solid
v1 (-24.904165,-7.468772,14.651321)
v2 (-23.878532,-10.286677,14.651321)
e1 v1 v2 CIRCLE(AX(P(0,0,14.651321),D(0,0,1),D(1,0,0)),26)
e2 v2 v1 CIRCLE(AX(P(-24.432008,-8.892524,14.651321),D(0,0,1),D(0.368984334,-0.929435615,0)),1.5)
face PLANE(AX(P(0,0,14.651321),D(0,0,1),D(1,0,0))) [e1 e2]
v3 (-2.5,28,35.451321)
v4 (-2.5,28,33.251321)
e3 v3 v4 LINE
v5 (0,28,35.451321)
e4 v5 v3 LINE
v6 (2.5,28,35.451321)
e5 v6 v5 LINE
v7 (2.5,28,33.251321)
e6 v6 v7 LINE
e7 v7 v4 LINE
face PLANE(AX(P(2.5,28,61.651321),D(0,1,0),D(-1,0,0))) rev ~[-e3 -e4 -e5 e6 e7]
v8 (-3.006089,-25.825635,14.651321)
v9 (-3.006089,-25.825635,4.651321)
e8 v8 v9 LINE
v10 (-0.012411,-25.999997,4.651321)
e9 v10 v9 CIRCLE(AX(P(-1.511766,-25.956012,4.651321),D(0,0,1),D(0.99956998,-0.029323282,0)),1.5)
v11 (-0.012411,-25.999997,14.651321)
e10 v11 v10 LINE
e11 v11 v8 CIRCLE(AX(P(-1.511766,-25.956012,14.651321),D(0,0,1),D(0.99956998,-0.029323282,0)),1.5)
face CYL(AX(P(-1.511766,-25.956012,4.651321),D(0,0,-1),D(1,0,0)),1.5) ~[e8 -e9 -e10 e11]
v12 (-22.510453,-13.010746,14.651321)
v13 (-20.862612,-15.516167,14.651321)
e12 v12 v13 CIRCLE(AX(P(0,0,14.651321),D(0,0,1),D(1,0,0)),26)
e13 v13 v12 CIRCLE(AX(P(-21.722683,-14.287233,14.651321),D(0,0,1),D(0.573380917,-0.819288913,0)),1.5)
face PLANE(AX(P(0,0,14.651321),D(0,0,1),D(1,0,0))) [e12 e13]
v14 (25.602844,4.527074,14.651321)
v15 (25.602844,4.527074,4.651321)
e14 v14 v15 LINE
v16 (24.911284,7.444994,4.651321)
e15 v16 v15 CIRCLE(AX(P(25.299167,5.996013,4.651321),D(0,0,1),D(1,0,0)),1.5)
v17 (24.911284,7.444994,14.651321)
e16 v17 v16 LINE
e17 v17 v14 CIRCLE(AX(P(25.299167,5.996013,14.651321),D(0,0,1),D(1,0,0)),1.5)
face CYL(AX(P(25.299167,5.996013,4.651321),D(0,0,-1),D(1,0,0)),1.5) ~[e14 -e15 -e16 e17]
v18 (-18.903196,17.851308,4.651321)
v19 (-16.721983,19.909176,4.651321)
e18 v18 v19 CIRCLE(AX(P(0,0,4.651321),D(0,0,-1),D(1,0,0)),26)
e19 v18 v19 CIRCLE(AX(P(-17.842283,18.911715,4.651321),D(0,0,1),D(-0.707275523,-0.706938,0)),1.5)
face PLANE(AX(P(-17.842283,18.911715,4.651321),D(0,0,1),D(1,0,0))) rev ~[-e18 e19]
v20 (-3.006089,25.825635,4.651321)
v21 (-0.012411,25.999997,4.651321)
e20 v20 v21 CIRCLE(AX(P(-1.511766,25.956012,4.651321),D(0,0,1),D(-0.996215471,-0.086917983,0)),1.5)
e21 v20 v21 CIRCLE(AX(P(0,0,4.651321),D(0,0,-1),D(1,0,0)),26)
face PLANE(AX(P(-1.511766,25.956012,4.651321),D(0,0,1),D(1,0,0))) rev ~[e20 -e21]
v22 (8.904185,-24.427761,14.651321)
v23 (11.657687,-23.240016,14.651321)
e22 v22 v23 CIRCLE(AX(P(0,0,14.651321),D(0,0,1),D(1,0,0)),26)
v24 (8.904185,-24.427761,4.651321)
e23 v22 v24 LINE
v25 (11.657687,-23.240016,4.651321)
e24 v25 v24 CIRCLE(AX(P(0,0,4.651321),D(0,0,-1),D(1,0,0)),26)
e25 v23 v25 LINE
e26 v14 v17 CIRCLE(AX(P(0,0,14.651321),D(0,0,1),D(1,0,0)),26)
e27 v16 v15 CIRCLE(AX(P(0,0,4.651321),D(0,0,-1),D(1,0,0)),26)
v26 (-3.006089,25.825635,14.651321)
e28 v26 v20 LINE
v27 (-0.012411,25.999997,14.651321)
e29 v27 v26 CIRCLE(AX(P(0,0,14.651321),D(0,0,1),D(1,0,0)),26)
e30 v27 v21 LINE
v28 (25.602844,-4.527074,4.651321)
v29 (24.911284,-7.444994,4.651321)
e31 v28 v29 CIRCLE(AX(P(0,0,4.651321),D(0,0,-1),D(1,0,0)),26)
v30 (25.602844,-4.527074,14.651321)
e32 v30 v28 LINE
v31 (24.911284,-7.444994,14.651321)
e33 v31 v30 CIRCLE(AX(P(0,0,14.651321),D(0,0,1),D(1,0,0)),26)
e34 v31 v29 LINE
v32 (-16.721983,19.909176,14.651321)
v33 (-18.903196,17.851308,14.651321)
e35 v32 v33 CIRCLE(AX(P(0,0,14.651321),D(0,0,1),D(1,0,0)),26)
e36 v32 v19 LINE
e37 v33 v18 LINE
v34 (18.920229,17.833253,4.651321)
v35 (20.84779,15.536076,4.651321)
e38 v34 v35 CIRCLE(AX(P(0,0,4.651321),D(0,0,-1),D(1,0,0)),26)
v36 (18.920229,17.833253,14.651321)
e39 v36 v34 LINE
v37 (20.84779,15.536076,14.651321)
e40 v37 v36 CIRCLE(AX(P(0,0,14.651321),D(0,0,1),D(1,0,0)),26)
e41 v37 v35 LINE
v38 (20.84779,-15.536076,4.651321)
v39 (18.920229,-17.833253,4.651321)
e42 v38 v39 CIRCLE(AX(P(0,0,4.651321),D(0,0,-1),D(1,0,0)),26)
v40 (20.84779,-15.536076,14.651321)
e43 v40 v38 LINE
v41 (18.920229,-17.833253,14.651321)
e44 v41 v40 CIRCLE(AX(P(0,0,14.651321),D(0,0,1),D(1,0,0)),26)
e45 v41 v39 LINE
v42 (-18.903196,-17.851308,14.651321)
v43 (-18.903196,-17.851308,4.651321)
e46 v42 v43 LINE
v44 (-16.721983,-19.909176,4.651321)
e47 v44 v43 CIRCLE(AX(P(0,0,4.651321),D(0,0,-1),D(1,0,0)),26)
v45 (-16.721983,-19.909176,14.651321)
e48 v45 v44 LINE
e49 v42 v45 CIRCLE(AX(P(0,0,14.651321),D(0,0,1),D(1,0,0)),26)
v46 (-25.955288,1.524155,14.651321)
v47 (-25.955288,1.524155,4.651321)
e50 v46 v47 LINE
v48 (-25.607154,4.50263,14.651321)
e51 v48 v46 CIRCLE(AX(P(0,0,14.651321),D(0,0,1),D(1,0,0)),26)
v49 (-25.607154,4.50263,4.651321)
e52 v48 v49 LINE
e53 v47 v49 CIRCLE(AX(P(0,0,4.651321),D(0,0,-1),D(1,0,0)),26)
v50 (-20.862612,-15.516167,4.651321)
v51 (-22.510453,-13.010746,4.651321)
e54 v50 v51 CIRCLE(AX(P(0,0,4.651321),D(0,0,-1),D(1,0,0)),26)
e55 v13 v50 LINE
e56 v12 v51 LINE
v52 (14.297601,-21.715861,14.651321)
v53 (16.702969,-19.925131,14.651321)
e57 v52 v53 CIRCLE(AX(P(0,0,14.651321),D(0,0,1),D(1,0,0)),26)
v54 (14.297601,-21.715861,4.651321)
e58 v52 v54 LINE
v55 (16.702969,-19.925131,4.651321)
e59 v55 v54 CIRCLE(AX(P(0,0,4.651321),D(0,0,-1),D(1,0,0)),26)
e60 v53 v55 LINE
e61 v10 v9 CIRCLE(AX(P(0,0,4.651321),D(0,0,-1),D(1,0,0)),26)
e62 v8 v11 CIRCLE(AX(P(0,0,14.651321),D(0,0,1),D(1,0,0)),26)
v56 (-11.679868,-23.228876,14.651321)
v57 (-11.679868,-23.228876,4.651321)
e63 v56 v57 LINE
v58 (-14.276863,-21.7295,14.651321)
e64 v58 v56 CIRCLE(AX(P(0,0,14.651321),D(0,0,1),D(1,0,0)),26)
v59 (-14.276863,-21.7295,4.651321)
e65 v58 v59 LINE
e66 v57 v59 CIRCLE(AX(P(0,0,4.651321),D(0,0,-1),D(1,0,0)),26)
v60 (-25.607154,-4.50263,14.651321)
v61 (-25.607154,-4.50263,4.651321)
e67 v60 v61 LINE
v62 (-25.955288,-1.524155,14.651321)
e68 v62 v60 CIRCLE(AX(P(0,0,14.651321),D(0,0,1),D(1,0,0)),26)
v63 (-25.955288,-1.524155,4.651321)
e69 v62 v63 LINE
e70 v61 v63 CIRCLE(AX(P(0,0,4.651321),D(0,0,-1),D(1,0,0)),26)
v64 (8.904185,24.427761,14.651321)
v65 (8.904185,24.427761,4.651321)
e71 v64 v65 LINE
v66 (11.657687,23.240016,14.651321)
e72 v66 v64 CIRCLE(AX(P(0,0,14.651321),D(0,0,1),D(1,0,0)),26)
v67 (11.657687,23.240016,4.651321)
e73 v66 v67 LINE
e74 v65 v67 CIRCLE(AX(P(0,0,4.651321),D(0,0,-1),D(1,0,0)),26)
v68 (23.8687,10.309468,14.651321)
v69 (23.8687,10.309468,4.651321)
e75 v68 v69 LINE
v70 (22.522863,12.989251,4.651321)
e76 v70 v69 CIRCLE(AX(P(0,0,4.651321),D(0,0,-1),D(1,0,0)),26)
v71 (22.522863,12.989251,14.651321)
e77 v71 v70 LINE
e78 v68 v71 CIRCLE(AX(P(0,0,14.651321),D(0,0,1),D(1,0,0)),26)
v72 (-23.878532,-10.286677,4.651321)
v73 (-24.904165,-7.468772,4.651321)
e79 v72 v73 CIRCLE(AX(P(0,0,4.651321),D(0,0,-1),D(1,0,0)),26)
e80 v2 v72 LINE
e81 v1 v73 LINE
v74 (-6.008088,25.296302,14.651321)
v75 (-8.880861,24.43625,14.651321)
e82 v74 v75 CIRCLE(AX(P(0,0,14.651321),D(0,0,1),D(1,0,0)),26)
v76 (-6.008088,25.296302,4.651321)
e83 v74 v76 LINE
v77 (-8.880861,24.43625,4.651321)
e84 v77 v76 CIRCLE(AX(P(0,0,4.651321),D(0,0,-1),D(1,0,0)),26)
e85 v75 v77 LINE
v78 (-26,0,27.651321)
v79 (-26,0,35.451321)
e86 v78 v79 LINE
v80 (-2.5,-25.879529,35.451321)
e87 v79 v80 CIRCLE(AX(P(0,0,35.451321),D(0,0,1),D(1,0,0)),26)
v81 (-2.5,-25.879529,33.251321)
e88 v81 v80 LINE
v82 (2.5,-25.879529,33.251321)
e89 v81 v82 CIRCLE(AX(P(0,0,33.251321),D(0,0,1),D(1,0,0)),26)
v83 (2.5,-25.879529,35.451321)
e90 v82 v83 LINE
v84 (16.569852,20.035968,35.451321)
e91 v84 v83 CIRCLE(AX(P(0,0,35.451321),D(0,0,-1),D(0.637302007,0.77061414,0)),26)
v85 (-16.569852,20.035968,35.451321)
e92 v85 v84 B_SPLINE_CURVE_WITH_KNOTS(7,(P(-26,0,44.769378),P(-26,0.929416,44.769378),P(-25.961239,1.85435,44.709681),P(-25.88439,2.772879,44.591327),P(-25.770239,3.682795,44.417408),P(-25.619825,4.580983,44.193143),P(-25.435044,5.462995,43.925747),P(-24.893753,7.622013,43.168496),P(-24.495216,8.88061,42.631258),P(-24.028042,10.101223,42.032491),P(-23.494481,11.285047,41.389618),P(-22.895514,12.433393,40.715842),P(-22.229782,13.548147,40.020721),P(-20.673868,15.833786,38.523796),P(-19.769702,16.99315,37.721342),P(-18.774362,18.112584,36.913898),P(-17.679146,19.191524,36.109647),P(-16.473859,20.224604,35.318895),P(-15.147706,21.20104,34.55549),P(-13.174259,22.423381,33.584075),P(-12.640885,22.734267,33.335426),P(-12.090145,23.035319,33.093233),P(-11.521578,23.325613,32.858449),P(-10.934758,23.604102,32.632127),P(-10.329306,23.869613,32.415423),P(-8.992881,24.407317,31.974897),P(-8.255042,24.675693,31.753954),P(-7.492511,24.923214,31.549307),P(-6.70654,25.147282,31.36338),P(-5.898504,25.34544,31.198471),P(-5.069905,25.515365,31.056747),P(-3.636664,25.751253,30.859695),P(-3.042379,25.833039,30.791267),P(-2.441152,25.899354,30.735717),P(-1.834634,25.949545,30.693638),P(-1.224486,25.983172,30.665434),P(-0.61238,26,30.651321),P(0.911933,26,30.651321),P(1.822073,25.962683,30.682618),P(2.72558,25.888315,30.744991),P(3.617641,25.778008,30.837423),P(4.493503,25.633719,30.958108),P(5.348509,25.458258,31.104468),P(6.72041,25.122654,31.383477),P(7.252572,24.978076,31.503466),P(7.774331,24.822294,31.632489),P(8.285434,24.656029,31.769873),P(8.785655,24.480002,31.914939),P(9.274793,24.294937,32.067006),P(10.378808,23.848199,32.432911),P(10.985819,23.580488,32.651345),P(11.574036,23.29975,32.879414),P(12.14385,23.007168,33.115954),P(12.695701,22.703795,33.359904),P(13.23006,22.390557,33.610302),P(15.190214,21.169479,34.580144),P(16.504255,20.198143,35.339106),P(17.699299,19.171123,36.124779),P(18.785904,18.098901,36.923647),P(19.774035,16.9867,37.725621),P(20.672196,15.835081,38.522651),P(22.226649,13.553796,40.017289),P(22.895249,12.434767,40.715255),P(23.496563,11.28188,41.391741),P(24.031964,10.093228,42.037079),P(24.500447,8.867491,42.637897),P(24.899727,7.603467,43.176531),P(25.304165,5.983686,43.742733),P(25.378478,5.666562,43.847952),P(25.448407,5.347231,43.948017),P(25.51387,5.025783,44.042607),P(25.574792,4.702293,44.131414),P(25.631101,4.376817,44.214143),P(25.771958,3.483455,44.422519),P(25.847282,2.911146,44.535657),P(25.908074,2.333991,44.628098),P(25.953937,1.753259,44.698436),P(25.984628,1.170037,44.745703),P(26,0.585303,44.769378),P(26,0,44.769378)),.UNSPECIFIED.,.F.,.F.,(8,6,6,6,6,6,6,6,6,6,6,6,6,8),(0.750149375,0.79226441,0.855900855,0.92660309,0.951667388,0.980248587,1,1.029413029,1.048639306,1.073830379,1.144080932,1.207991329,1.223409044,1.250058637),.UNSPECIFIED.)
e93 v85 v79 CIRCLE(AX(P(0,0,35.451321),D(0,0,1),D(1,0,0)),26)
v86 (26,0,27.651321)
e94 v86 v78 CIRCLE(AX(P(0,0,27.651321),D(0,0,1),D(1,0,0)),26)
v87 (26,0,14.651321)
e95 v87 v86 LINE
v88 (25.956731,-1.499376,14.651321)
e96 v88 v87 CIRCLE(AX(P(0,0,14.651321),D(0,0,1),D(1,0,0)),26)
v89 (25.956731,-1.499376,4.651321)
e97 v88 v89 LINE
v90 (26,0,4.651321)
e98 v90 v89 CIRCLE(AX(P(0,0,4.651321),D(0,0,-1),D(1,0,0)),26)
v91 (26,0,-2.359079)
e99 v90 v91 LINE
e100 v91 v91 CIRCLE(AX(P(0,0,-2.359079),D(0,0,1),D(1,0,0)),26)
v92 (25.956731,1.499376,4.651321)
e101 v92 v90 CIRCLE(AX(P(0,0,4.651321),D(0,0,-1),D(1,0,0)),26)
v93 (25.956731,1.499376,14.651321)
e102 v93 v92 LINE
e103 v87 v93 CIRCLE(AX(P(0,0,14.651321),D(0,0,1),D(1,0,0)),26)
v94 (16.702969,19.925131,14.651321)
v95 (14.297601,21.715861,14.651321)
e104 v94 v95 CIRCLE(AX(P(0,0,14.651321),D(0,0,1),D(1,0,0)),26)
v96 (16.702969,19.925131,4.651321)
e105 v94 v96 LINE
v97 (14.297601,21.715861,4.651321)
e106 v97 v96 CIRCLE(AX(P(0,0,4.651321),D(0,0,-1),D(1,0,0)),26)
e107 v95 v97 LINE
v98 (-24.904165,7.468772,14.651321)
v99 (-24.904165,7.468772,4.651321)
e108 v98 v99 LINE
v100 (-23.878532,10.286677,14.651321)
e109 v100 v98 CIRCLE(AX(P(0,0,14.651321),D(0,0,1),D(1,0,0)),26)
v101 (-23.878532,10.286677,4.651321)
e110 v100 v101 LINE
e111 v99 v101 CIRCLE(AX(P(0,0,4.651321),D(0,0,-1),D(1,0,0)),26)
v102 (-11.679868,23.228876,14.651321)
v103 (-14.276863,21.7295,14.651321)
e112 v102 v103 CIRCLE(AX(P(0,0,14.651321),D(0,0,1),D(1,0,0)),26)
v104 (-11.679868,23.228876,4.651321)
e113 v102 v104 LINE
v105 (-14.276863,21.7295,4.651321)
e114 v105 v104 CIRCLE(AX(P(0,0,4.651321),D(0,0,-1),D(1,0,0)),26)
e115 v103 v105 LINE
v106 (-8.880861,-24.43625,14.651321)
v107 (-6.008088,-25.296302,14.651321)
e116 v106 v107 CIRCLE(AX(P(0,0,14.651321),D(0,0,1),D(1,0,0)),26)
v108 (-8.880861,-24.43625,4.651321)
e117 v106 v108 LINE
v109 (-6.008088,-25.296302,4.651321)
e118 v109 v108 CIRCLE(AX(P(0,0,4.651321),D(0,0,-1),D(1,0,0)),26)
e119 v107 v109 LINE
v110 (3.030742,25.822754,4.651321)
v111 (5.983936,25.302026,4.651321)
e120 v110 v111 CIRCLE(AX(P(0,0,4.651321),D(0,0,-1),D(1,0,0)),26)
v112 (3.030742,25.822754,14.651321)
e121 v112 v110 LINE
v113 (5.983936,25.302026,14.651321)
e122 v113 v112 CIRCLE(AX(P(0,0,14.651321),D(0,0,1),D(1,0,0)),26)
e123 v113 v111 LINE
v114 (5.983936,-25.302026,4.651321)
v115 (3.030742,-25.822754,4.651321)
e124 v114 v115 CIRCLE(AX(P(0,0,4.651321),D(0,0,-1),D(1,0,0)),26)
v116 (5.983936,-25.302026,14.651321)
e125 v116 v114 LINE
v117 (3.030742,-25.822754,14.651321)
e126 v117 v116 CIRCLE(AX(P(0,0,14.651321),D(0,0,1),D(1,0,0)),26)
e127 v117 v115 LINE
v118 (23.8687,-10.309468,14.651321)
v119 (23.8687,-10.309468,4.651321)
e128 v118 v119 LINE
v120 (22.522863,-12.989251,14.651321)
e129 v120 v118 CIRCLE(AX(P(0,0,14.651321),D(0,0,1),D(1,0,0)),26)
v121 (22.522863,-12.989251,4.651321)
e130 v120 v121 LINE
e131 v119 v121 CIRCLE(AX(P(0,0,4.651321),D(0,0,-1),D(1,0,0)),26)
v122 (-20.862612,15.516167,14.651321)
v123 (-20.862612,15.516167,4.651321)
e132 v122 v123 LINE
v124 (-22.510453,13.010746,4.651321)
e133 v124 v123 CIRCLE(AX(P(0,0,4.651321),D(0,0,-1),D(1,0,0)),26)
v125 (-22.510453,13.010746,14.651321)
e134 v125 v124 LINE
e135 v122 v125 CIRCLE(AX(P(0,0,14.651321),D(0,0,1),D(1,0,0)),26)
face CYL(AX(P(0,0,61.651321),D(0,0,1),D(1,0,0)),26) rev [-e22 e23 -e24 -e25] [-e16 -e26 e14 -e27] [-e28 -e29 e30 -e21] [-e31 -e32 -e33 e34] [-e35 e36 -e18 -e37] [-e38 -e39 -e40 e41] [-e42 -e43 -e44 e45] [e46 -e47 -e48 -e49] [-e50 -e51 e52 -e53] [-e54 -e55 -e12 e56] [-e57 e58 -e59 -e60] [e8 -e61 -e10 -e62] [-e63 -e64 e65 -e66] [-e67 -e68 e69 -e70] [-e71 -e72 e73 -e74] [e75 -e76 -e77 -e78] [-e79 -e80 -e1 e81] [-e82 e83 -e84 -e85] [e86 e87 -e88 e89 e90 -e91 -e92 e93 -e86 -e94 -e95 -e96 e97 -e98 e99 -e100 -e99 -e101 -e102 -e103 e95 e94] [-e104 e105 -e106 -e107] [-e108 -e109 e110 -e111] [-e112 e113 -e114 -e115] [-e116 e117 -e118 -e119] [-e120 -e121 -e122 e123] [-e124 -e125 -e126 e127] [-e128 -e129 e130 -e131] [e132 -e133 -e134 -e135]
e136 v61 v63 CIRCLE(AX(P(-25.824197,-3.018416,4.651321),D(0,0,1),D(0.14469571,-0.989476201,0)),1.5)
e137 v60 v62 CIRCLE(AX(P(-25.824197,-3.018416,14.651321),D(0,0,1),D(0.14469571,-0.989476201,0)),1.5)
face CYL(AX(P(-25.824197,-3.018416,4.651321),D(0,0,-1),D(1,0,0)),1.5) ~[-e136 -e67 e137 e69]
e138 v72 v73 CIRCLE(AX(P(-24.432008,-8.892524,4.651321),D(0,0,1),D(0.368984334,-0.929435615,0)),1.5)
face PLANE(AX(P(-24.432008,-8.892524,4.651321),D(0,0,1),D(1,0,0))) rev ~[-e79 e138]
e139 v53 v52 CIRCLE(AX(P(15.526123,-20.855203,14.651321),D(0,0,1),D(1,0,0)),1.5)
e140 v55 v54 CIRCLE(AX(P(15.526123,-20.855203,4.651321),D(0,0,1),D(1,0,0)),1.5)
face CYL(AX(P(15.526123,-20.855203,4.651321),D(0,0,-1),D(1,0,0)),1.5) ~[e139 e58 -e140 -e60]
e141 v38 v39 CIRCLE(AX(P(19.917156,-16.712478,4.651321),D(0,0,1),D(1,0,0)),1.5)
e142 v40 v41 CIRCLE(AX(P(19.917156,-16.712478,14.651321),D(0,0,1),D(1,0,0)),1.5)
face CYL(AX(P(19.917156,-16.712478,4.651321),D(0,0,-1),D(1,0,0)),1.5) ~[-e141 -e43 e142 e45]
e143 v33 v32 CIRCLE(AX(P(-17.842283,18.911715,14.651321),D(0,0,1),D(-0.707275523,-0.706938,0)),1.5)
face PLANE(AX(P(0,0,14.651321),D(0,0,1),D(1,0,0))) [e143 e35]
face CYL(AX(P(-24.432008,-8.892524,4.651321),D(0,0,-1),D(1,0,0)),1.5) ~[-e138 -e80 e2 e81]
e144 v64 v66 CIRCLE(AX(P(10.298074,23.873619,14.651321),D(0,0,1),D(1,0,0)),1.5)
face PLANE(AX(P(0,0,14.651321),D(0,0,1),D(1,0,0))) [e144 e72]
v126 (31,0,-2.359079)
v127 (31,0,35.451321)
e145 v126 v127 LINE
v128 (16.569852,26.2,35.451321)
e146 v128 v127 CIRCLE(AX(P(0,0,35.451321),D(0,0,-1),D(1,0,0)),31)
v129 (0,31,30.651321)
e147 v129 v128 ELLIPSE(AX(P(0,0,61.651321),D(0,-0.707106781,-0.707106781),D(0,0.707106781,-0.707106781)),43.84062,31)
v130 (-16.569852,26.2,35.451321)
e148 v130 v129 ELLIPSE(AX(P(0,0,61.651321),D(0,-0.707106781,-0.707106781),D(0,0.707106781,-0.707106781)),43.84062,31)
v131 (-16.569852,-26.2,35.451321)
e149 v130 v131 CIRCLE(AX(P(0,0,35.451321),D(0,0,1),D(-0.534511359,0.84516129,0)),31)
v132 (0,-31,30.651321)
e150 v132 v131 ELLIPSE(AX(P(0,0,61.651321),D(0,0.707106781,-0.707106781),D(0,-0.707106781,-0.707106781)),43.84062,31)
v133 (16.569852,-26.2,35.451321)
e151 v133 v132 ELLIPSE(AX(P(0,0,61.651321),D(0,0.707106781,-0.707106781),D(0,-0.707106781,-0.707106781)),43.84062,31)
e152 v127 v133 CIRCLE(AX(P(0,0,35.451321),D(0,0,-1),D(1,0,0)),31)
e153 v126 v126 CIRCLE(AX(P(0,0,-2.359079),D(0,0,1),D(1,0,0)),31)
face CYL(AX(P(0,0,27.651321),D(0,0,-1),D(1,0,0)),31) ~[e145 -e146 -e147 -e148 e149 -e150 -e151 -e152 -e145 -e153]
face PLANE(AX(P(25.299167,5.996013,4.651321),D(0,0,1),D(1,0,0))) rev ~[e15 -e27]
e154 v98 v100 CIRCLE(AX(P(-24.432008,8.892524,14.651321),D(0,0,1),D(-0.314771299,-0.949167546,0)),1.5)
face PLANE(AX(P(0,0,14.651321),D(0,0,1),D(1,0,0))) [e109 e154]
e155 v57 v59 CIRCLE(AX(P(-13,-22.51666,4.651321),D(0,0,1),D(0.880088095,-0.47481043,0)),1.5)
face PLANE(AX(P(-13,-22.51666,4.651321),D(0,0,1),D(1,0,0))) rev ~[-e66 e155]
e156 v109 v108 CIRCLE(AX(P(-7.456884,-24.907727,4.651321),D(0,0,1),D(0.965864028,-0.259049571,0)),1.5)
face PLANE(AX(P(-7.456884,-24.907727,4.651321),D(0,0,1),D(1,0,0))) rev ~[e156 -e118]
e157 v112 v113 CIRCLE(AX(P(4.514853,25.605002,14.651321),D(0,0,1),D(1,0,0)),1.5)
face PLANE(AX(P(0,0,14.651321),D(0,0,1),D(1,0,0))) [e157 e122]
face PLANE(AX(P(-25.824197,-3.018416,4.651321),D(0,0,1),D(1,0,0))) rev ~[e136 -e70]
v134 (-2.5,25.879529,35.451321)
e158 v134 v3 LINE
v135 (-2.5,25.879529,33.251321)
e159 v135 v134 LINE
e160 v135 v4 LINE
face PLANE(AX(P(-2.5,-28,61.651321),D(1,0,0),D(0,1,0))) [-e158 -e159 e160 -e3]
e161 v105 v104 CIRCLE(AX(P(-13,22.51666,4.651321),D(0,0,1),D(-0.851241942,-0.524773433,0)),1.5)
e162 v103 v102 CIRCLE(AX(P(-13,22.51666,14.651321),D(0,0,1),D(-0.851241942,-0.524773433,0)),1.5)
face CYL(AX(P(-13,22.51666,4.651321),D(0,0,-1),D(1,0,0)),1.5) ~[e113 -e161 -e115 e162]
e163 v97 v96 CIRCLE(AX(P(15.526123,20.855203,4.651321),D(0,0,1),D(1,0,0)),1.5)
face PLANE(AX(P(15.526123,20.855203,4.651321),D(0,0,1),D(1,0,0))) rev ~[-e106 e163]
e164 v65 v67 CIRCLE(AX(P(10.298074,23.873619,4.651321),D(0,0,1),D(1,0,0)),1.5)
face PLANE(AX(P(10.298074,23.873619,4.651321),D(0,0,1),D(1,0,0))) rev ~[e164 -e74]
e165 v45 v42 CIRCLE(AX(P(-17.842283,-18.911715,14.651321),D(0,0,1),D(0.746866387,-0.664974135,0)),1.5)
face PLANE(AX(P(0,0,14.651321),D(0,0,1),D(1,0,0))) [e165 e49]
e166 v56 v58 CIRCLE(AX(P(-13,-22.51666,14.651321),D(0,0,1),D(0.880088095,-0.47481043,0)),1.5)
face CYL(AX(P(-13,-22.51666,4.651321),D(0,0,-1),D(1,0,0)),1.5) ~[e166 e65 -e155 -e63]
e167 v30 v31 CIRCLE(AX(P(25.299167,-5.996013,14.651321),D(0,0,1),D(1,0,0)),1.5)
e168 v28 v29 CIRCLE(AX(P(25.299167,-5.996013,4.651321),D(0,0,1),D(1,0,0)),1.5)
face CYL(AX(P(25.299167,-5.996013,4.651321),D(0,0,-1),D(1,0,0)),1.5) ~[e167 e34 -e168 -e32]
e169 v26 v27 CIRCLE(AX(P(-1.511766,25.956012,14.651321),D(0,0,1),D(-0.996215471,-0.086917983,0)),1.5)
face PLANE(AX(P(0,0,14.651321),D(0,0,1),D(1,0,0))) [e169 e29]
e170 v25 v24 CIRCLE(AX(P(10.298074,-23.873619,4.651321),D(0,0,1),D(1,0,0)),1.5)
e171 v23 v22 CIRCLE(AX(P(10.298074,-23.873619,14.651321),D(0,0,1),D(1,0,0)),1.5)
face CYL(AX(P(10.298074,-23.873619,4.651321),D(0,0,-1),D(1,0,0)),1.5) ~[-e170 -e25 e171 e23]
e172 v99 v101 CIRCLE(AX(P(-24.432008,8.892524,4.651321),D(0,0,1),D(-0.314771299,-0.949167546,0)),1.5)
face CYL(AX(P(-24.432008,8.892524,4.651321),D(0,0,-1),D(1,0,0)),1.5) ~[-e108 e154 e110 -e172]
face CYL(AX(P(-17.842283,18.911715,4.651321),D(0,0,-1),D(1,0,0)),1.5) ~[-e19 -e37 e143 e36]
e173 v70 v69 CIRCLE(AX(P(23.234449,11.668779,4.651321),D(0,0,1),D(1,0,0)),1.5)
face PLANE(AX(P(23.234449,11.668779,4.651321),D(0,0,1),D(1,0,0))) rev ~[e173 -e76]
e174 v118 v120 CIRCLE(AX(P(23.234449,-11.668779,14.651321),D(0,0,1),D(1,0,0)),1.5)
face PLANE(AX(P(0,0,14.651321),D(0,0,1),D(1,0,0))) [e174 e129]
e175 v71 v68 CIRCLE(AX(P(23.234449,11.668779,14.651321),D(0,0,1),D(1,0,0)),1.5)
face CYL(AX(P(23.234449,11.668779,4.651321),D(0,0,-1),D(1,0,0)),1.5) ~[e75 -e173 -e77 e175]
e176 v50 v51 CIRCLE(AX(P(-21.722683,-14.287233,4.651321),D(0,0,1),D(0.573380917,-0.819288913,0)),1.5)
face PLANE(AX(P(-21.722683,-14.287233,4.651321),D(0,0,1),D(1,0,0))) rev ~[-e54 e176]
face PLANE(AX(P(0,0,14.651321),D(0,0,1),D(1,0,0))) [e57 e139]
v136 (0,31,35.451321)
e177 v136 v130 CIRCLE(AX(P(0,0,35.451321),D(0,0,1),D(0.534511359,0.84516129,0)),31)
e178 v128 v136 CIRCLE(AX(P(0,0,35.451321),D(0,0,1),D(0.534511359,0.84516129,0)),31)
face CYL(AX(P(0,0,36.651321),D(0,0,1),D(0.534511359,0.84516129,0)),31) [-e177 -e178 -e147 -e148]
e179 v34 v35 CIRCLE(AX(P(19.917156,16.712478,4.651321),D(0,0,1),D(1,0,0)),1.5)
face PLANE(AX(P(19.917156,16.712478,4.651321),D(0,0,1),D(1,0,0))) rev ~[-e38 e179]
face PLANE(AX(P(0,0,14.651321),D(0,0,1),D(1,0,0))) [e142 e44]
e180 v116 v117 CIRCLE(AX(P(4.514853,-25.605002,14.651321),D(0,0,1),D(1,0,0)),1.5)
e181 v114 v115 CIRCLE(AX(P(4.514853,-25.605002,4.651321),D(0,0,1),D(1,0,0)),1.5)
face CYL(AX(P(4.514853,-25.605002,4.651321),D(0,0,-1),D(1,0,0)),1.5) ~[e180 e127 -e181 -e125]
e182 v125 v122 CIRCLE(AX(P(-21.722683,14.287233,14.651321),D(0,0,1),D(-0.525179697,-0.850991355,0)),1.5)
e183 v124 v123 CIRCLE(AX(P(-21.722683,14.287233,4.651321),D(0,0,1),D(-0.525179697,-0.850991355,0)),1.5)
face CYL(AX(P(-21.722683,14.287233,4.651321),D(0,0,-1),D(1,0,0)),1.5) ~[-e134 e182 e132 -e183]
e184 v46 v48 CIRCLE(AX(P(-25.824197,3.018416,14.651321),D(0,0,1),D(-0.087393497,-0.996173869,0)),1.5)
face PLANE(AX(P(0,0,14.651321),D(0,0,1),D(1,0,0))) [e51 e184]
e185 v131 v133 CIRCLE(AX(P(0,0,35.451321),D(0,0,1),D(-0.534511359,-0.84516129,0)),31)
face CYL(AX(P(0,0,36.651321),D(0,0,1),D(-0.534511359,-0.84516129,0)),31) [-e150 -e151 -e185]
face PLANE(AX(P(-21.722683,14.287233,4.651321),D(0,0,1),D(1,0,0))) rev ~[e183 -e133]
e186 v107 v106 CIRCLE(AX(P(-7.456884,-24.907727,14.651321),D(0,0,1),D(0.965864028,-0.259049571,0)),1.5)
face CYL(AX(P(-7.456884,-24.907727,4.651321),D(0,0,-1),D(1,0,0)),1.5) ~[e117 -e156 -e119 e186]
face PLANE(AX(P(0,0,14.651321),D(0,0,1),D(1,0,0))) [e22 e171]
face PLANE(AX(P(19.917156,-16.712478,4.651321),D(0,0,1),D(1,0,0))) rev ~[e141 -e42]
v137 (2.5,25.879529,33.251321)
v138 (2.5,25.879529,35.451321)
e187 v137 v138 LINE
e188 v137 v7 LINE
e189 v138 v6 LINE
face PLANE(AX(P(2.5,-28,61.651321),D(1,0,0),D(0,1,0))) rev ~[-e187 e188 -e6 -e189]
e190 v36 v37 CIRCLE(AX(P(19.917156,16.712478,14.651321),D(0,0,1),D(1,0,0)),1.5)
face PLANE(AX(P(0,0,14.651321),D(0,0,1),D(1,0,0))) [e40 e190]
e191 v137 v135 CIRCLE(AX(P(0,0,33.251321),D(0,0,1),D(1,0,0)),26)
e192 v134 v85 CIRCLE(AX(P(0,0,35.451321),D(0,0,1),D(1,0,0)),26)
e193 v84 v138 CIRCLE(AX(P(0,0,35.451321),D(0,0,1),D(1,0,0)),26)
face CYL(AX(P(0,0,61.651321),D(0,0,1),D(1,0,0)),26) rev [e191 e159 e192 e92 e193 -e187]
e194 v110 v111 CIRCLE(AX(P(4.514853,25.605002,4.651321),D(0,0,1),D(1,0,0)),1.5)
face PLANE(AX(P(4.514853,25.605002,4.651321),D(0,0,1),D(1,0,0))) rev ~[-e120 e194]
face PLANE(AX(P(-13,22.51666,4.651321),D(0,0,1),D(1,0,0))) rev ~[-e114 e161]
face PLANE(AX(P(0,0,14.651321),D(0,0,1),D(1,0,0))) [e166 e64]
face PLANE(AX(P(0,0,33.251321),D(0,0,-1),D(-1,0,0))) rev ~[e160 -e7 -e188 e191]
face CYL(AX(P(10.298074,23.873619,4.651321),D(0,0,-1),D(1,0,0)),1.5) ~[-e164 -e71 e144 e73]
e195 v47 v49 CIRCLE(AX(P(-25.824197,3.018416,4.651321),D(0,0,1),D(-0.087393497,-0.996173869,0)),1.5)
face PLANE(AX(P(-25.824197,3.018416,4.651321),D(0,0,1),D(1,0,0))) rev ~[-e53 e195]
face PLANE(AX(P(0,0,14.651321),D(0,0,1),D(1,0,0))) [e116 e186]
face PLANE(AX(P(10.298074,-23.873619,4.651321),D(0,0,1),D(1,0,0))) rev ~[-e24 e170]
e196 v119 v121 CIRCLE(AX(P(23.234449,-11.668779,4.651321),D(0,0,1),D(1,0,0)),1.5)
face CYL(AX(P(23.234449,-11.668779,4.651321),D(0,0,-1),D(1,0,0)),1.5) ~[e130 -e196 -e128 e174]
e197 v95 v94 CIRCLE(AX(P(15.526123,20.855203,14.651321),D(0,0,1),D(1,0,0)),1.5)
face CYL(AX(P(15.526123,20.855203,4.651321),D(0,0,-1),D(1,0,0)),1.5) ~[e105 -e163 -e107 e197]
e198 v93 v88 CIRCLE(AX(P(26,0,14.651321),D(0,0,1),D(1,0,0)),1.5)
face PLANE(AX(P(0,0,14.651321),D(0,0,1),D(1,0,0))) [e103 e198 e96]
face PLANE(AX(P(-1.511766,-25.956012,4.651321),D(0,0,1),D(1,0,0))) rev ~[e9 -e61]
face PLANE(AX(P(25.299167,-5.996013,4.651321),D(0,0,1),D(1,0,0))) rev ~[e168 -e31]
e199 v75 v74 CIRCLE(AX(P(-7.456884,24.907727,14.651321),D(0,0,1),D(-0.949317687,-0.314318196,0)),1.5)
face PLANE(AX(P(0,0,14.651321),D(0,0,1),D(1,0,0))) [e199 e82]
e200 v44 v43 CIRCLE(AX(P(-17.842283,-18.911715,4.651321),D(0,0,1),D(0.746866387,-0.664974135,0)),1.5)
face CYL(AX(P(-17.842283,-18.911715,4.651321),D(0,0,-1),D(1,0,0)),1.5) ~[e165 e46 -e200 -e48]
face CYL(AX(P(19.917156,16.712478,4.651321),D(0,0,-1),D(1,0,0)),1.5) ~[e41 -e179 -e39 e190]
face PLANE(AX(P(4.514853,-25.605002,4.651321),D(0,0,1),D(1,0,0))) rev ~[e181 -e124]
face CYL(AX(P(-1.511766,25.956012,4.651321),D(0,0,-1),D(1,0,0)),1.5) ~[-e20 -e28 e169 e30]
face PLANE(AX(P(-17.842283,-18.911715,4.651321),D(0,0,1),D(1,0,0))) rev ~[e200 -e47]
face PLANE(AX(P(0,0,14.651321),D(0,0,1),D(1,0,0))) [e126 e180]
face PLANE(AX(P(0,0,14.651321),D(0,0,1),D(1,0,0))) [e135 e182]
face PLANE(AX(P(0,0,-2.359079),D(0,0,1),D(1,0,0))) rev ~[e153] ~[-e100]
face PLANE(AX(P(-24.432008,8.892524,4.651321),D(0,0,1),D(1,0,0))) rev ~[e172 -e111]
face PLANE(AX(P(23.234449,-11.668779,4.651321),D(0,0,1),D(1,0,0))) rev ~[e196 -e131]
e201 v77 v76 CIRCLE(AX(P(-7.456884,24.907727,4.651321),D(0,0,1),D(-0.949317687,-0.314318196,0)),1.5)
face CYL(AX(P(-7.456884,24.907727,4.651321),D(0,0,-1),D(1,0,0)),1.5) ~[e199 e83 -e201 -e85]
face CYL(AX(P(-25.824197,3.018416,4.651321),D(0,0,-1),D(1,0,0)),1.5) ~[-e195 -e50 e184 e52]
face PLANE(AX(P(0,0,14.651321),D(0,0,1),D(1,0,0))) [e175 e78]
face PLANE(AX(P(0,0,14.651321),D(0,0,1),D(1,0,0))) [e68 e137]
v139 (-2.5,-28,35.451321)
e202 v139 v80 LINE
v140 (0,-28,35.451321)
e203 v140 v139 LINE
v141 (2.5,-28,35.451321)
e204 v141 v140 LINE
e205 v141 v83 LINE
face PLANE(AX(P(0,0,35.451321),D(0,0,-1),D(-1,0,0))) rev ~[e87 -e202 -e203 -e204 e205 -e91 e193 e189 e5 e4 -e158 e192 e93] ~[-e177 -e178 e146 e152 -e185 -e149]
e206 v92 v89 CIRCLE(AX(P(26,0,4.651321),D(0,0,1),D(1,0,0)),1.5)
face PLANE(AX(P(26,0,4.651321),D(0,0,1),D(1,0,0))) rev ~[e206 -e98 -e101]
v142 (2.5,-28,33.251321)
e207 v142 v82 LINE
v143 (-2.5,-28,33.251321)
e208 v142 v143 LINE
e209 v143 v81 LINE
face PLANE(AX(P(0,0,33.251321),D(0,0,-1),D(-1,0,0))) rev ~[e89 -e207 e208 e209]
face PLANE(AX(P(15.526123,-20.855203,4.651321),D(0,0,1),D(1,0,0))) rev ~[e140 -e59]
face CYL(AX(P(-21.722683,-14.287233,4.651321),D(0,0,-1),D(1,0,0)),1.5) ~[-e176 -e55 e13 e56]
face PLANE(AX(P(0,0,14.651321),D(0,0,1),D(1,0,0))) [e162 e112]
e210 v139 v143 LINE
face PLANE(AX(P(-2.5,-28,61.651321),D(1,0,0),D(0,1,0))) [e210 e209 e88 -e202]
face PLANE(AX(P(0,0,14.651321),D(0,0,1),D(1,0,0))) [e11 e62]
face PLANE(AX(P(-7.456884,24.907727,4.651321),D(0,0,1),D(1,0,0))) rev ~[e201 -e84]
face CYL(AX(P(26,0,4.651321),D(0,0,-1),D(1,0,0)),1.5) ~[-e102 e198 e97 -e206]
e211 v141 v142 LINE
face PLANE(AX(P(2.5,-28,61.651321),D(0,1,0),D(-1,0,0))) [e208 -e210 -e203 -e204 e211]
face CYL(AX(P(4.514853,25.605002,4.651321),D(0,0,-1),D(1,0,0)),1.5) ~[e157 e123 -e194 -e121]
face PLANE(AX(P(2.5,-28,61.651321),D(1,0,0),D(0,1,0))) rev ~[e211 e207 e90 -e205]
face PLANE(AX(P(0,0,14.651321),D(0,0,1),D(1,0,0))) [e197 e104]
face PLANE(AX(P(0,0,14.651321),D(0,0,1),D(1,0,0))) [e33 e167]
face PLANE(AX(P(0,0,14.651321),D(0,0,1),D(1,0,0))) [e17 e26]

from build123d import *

# Parameters (mm, degrees)
SKETCH3_R                       = 31
SKETCH3_R_2                     = 26
BOSS_EXTRUDE1_DEPTH             = 7.0104
SKETCH4_R                       = 31
SKETCH4_R_2                     = 26
BOSS_EXTRUDE2_DEPTH             = 10
SKETCH5_R                       = 1.5
BOSS_EXTRUDE3_DEPTH             = 10
SKETCH7_R                       = 31
SKETCH7_R_2                     = 26
BOSS_EXTRUDE4_DEPTH             = 13
BOSS_EXTRUDE5_DEPTH             = 36
BOSS_EXTRUDE5_DEPTH_BACK        = 36
SKETCH9_R                       = 31
SKETCH9_R_2                     = 26.2
BOSS_EXTRUDE9_REACH             = 82.511
SKETCH34_R                      = 31
SKETCH34_R_2                    = 26
SKETCH35_R                      = 26.2
BOSS_EXTRUDE10_DEPTH            = 6
SKETCH37_R                      = 2.3
CUT_EXTRUDE1_DEPTH              = 6
SKETCH39_R                      = 11.1
CUT_EXTRUDE2_DEPTH              = 2.1
SKETCH41_R                      = 5
CUT_EXTRUDE3_DEPTH              = 4
SKETCH45_R                      = 26
CUT_EXTRUDE6_DEPTH              = 31
SKETCH47_R                      = 1.7
CUT_EXTRUDE7_DEPTH              = 118.903636822
CIRPATTERN1_COUNT               = 4
SKETCH48_W                      = 5
SKETCH48_H                      = 56
CUT_EXTRUDE10_DEPTH             = 28.4
CUT_EXTRUDE11_DEPTH             = 80.714061918
CUT_EXTRUDE12_REACH             = 106.121
CUT_EXTRUDE12_DIRECTION_2_DEPTH = 105.121407837
SKETCH54_W                      = 16.469339318
SKETCH54_H                      = 18
CUT_EXTRUDE13_DEPTH             = 105.121407837
CUT_EXTRUDE14_DEPTH             = 1.2
CUT_EXTRUDE14_DEPTH_BACK        = 74.437050306
SKETCH55_W                      = 62
SKETCH55_H                      = 72
CUT_EXTRUDE15_DEPTH             = 62.472036971


with BuildPart() as part:
    # Sketch3 → Boss-Extrude1 (new body)
    with BuildSketch(Plane.XY.offset(-2.359079422)):
        Circle(SKETCH3_R)
        Circle(SKETCH3_R_2, mode=Mode.SUBTRACT)
    extrude(amount=BOSS_EXTRUDE1_DEPTH)

    # Sketch4 → Boss-Extrude2 (add)
    with BuildSketch(Plane.XY.offset(4.651320578)):
        Circle(SKETCH4_R)
        Circle(SKETCH4_R_2, mode=Mode.SUBTRACT)
    extrude(amount=BOSS_EXTRUDE2_DEPTH)

    # Sketch5 → Boss-Extrude3 (add)
    with BuildSketch(Plane.XY.offset(4.651320578)):
        with Locations((26, 0)):
            Circle(SKETCH5_R)
        with Locations((25.299166635, -5.996012639)):
            Circle(SKETCH5_R)
        with Locations((23.234448648, -11.668778685)):
            Circle(SKETCH5_R)
        with Locations((19.917155521, -16.712477852)):
            Circle(SKETCH5_R)
        with Locations((15.526123384, -20.855203012)):
            Circle(SKETCH5_R)
        with Locations((10.298073917, -23.873618779)):
            Circle(SKETCH5_R)
        with Locations((4.514852619, -25.605001578)):
            Circle(SKETCH5_R)
        with Locations((-1.511765552, -25.956012115)):
            Circle(SKETCH5_R)
        with Locations((-7.45688405, -24.90772732)):
            Circle(SKETCH5_R)
        with Locations((-13, -22.516660498)):
            Circle(SKETCH5_R)
        with Locations((-17.842282585, -18.911714681)):
            Circle(SKETCH5_R)
        with Locations((-21.722683097, -14.28723343)):
            Circle(SKETCH5_R)
        with Locations((-24.43200814, -8.892523726)):
            Circle(SKETCH5_R)
        with Locations((-25.824197301, -3.018415767)):
            Circle(SKETCH5_R)
        with Locations((-25.824197301, 3.018415767)):
            Circle(SKETCH5_R)
        with Locations((-24.43200814, 8.892523726)):
            Circle(SKETCH5_R)
        with Locations((-21.722683097, 14.28723343)):
            Circle(SKETCH5_R)
        with Locations((-17.842282585, 18.911714681)):
            Circle(SKETCH5_R)
        with Locations((-13, 22.516660498)):
            Circle(SKETCH5_R)
        with Locations((-7.45688405, 24.90772732)):
            Circle(SKETCH5_R)
        with Locations((-1.511765552, 25.956012115)):
            Circle(SKETCH5_R)
        with Locations((4.514852619, 25.605001578)):
            Circle(SKETCH5_R)
        with Locations((10.298073917, 23.873618779)):
            Circle(SKETCH5_R)
        with Locations((15.526123384, 20.855203012)):
            Circle(SKETCH5_R)
        with Locations((19.917155521, 16.712477852)):
            Circle(SKETCH5_R)
        with Locations((23.234448648, 11.668778685)):
            Circle(SKETCH5_R)
        with Locations((25.299166635, 5.996012639)):
            Circle(SKETCH5_R)
    extrude(amount=BOSS_EXTRUDE3_DEPTH)

    # Sketch7 → Boss-Extrude4 (add)
    with BuildSketch(Plane.XY.offset(14.651320578)):
        Circle(SKETCH7_R)
        Circle(SKETCH7_R_2, mode=Mode.SUBTRACT)
    extrude(amount=BOSS_EXTRUDE4_DEPTH)


with BuildPart() as body_2:
    # Sketch9 → Boss-Extrude5 (new, two sides: drawn at the far end of the back side and taken through both)
    with BuildSketch(Plane(origin=(0, 0, 0), x_dir=(1, 0, 0), z_dir=(0, 1, 0)).offset(-BOSS_EXTRUDE5_DEPTH_BACK)):
        with Locations(Location((0, -61.651320578, 0), (0, 0, 270))):
            Circle(SKETCH9_R)
        with Locations(Location((0, -61.651320578, 0), (0, 0, 270))):
            Circle(SKETCH9_R_2, mode=Mode.SUBTRACT)
    extrude(amount=BOSS_EXTRUDE5_DEPTH + BOSS_EXTRUDE5_DEPTH_BACK)

    # Sketch34 → Boss-Extrude9 (add, up to next)
    with BuildSketch(Plane.XY.offset(27.651320578), mode=Mode.PRIVATE) as boss_extrude9_sk1:
        Circle(SKETCH34_R)
        with Locations(Location((0, 0, 0), (0, 0, 180))):
            Circle(SKETCH34_R_2, mode=Mode.SUBTRACT)
    boss_extrude9_tool1 = extrude(boss_extrude9_sk1.sketch, amount=BOSS_EXTRUDE9_REACH, mode=Mode.PRIVATE) - body_2.part

    add(part.part)  # Boss-Extrude9 merges part
    add(boss_extrude9_tool1.solids().sort_by_distance((-30.123188, 0, 27.651321))[0])

    # Sketch35 → Boss-Extrude10 (add)
    with BuildSketch(Plane.XZ.offset(36)):
        with Locations(Location((0, 61.651320578, 0), (0, 0, 90))):
            Circle(SKETCH35_R)
    extrude(amount=-BOSS_EXTRUDE10_DEPTH)

    # Sketch37 → Cut-Extrude1 (cut)
    with BuildSketch(Plane(origin=(0, -30, 0), x_dir=(1, 0, 0), z_dir=(0, 1, 0))):
        with Locations(Location((0, -77.651320578, 0), (0, 0, 270))):
            Circle(SKETCH37_R)
        with Locations(Location((-13.856406461, -69.651320578, 0), (0, 0, 270))):
            Circle(SKETCH37_R)
        with Locations(Location((-13.856406461, -53.651320578, 0), (0, 0, 270))):
            Circle(SKETCH37_R)
        with Locations(Location((0, -45.651320578, 0), (0, 0, 270))):
            Circle(SKETCH37_R)
        with Locations(Location((13.856406461, -53.651320578, 0), (0, 0, 270))):
            Circle(SKETCH37_R)
        with Locations(Location((13.856406461, -69.651320578, 0), (0, 0, 270))):
            Circle(SKETCH37_R)
    extrude(amount=-CUT_EXTRUDE1_DEPTH, mode=Mode.SUBTRACT)

    # Sketch39 → Cut-Extrude2 (cut)
    with BuildSketch(Plane(origin=(0, -30, 0), x_dir=(1, 0, 0), z_dir=(0, 1, 0))):
        with Locations(Location((0, -61.651320578, 0), (0, 0, 270))):
            Circle(SKETCH39_R)
    extrude(amount=-CUT_EXTRUDE2_DEPTH, mode=Mode.SUBTRACT)

    # Sketch41 → Cut-Extrude3 (cut)
    with BuildSketch(Plane(origin=(0, -32.1, 0), x_dir=(1, 0, 0), z_dir=(0, 1, 0))):
        with Locations(Location((0, -61.651320578, 0), (0, 0, 270))):
            Circle(SKETCH41_R)
    extrude(amount=-CUT_EXTRUDE3_DEPTH, mode=Mode.SUBTRACT)

    # Sketch45 → Cut-Extrude6 (cut)
    with BuildSketch(Plane(origin=(0, 0, 61.651320578), x_dir=(-1, 0, 0), z_dir=(0, 0, -1))):
        with Locations(Location((0, 0, 0), (0, 0, 180))):
            Circle(SKETCH45_R)
    extrude(amount=CUT_EXTRUDE6_DEPTH, mode=Mode.SUBTRACT)

    # Sketch47 → Cut-Extrude7 (cut, through all)
    with BuildSketch(Plane(origin=(0, -30, 0), x_dir=(1, 0, 0), z_dir=(0, 1, 0))):
        with Locations(Location((-15.5, -77.15132, 0), (0, 0, 270))):
            Circle(SKETCH47_R)
        with Locations(Location((-15.499999422, -46.151320578, 0), (0, 0, 270))):
            Circle(SKETCH47_R)
        with Locations(Location((15.5, -46.151321156, 0), (0, 0, 270))):
            Circle(SKETCH47_R)
        with Locations(Location((15.499999422, -77.151320578, 0), (0, 0, 270))):
            Circle(SKETCH47_R)
    extrude(amount=-CUT_EXTRUDE7_DEPTH, mode=Mode.SUBTRACT)

    # Sketch43 → Cut-Revolve1 (revolve, cut)
    with BuildSketch(Plane(origin=(-8.335079128, 0, 77.151320134), x_dir=(0.9999999999999999, 0, 1.8652727112514236e-08), z_dir=(-1.8652727112514233e-08, 0, 0.9999999999999998)), mode=Mode.PRIVATE) as cut_revolve1_sk:
        Polygon((20.835078549, -36), (22.135079128, -36), (22.135079128, -33.115), (20.835078549, -34.415), align=None)
    cut_revolve1 = revolve(cut_revolve1_sk.sketch.rotate(Axis((15.499999422, -36, 77.151320578), (0, 1, 0)), 180.000001069), axis=Axis((15.499999422, -36, 77.151320578), (0, 1, 0)), mode=Mode.SUBTRACT)

    # CirPattern1: Cut-Revolve1 ×4 about axis
    cirpattern1_axis = Axis((0, 0, 61.651320578), (0, 1, 0))
    for i in range(1, CIRPATTERN1_COUNT):
        add(cut_revolve1.rotate(cirpattern1_axis, i * 360 / CIRPATTERN1_COUNT), mode=Mode.SUBTRACT)

    # Sketch48 → Cut-Extrude10 (cut)
    with BuildSketch(Plane(origin=(0, 0, 61.651320578), x_dir=(-1, 0, 0), z_dir=(0, 0, -1))):
        Rectangle(SKETCH48_W, SKETCH48_H)
    extrude(amount=CUT_EXTRUDE10_DEPTH, mode=Mode.SUBTRACT)

    # Sketch49 → Cut-Extrude11 (cut, through all)
    with BuildSketch(Plane(origin=(0, 0, 61.651320578), x_dir=(-1, 0, 0), z_dir=(0, 0, -1))):
        with BuildLine():
            Line((-7.5, 17.5), (7.5, 17.5))
            ThreePointArc((7.5, 17.5), (9.267766953, 16.767766953), (10, 15))
            Line((10, 15), (10, -15))
            ThreePointArc((10, -15), (9.267766953, -16.767766953), (7.5, -17.5))
            Line((7.5, -17.5), (-7.5, -17.5))
            ThreePointArc((-7.5, -17.5), (-9.267766953, -16.767766953), (-10, -15))
            Line((-10, -15), (-10, 15))
            ThreePointArc((-10, 15), (-9.267766953, 16.767766953), (-7.5, 17.5))
        make_face()
    extrude(amount=-CUT_EXTRUDE11_DEPTH, mode=Mode.SUBTRACT)

    # Cut-Extrude12: up to this face of the body (flat: up to its plane)
    cut_extrude12_end = Plane(body_2.part.faces().sort_by_distance((0, -30, 36.192368485))[0])
    # Sketch51 → Cut-Extrude12 (cut, up to the picked face)
    with BuildSketch(Plane(origin=(0, 0, 0), x_dir=(1, 0, 0), z_dir=(0, 1, 0)), mode=Mode.PRIVATE) as cut_extrude12_sk1:
        with BuildLine():
            Line((-14.238968268, -82.857120578), (-16.748327145, -82.857120578))
            ThreePointArc((-16.748327145, -82.857120578), (-17.134760875, -82.78025413), (-17.462363572, -82.561357006))
            Line((-17.462363572, -82.561357006), (-20.910036428, -79.113684151))
            ThreePointArc((-20.910036428, -79.113684151), (-21.128933552, -78.786081453), (-21.2058, -78.399647723))
            Line((-21.2058, -78.399647723), (-21.2058, -75.890288846))
            Line((-21.2058, -75.890288846), (-21.2058, -47.41235231))
            Line((-21.2058, -47.41235231), (-21.2058, -44.902993434))
            ThreePointArc((-21.2058, -44.902993434), (-21.128933552, -44.516559704), (-20.910036428, -44.188957006))
            Line((-20.910036428, -44.188957006), (-17.462363572, -40.741284151))
            ThreePointArc((-17.462363572, -40.741284151), (-17.134760875, -40.522387026), (-16.748327145, -40.445520578))
            Line((-16.748327145, -40.445520578), (-14.238968268, -40.445520578))
            Line((-14.238968268, -40.445520578), (14.238968268, -40.445520578))
            Line((14.238968268, -40.445520578), (16.748327145, -40.445520578))
            ThreePointArc((16.748327145, -40.445520578), (17.134760875, -40.522387026), (17.462363572, -40.741284151))
            Line((17.462363572, -40.741284151), (20.910036428, -44.188957006))
            ThreePointArc((20.910036428, -44.188957006), (21.128933552, -44.516559704), (21.2058, -44.902993434))
            Line((21.2058, -44.902993434), (21.2058, -47.41235231))
            Line((21.2058, -47.41235231), (21.2058, -75.890288846))
            Line((21.2058, -75.890288846), (21.2058, -78.399647723))
            ThreePointArc((21.2058, -78.399647723), (21.128933552, -78.786081453), (20.910036428, -79.113684151))
            Line((20.910036428, -79.113684151), (17.462363572, -82.561357006))
            ThreePointArc((17.462363572, -82.561357006), (17.134760875, -82.78025413), (16.748327145, -82.857120578))
            Line((16.748327145, -82.857120578), (14.238968268, -82.857120578))
            Line((14.238968268, -82.857120578), (-14.238968268, -82.857120578))
        make_face()
    cut_extrude12_tool1 = split(extrude(cut_extrude12_sk1.sketch, amount=-CUT_EXTRUDE12_REACH, mode=Mode.PRIVATE), bisect_by=cut_extrude12_end, keep=Keep.BOTH, mode=Mode.PRIVATE)
    add(cut_extrude12_tool1.solids().sort_by(Axis((0, 0, 61.651321), (0, -1, 0)))[0], mode=Mode.SUBTRACT)

    # Sketch51 → Cut-Extrude12 direction 2 (cut)
    with BuildSketch(Plane(origin=(0, 0, 0), x_dir=(1, 0, 0), z_dir=(0, 1, 0))):
        with BuildLine():
            Line((-14.238968268, -82.857120578), (-16.748327145, -82.857120578))
            ThreePointArc((-16.748327145, -82.857120578), (-17.134760875, -82.78025413), (-17.462363572, -82.561357006))
            Line((-17.462363572, -82.561357006), (-20.910036428, -79.113684151))
            ThreePointArc((-20.910036428, -79.113684151), (-21.128933552, -78.786081453), (-21.2058, -78.399647723))
            Line((-21.2058, -78.399647723), (-21.2058, -75.890288846))
            Line((-21.2058, -75.890288846), (-21.2058, -47.41235231))
            Line((-21.2058, -47.41235231), (-21.2058, -44.902993434))
            ThreePointArc((-21.2058, -44.902993434), (-21.128933552, -44.516559704), (-20.910036428, -44.188957006))
            Line((-20.910036428, -44.188957006), (-17.462363572, -40.741284151))
            ThreePointArc((-17.462363572, -40.741284151), (-17.134760875, -40.522387026), (-16.748327145, -40.445520578))
            Line((-16.748327145, -40.445520578), (-14.238968268, -40.445520578))
            Line((-14.238968268, -40.445520578), (14.238968268, -40.445520578))
            Line((14.238968268, -40.445520578), (16.748327145, -40.445520578))
            ThreePointArc((16.748327145, -40.445520578), (17.134760875, -40.522387026), (17.462363572, -40.741284151))
            Line((17.462363572, -40.741284151), (20.910036428, -44.188957006))
            ThreePointArc((20.910036428, -44.188957006), (21.128933552, -44.516559704), (21.2058, -44.902993434))
            Line((21.2058, -44.902993434), (21.2058, -47.41235231))
            Line((21.2058, -47.41235231), (21.2058, -75.890288846))
            Line((21.2058, -75.890288846), (21.2058, -78.399647723))
            ThreePointArc((21.2058, -78.399647723), (21.128933552, -78.786081453), (20.910036428, -79.113684151))
            Line((20.910036428, -79.113684151), (17.462363572, -82.561357006))
            ThreePointArc((17.462363572, -82.561357006), (17.134760875, -82.78025413), (16.748327145, -82.857120578))
            Line((16.748327145, -82.857120578), (14.238968268, -82.857120578))
            Line((14.238968268, -82.857120578), (-14.238968268, -82.857120578))
        make_face()
    extrude(amount=CUT_EXTRUDE12_DIRECTION_2_DEPTH, mode=Mode.SUBTRACT)

    # Sketch54 → Cut-Extrude13 (cut, through all)
    with BuildSketch(Plane(origin=(0, 0, 0), x_dir=(0, 0, -1), z_dir=(1, 0, 0))):
        with Locations((-61.651320578, 27)):
            Rectangle(SKETCH54_W, SKETCH54_H)
    extrude(amount=-CUT_EXTRUDE13_DEPTH, mode=Mode.SUBTRACT)

    # Sketch55 → Cut-Extrude14 (cut, two sides: drawn at the far end of the back side and taken through both)
    with BuildSketch(Plane(origin=(0, 0, 36.651320578), x_dir=(-1, 0, 0), z_dir=(0, 0, -1)).offset(-CUT_EXTRUDE14_DEPTH_BACK)):
        Rectangle(SKETCH55_W, SKETCH55_H)
    extrude(amount=CUT_EXTRUDE14_DEPTH + CUT_EXTRUDE14_DEPTH_BACK, mode=Mode.SUBTRACT)

    # Sketch56 → Cut-Extrude15 (cut, through all)
    with BuildSketch(Plane(origin=(0, 0, 36.651320578), x_dir=(-1, 0, 0), z_dir=(0, 0, -1))):
        with BuildLine():
            Line((-16.569852142, 36), (-16.569852142, 26.2))
            ThreePointArc((-16.569852142, 26.2), (0, 31), (16.569852142, 26.2))
            Line((16.569852142, 26.2), (16.569852142, 36))
            Line((16.569852142, 36), (-16.569852142, 36))
        make_face()
        with BuildLine():
            Line((16.569852142, -36), (16.569852142, -26.2))
            ThreePointArc((16.569852142, -26.2), (0, -31), (-16.569852142, -26.2))
            Line((-16.569852142, -26.2), (-16.569852142, -36))
            Line((-16.569852142, -36), (16.569852142, -36))
        make_face()
    extrude(amount=CUT_EXTRUDE15_DEPTH, mode=Mode.SUBTRACT)


solid = body_2.part
